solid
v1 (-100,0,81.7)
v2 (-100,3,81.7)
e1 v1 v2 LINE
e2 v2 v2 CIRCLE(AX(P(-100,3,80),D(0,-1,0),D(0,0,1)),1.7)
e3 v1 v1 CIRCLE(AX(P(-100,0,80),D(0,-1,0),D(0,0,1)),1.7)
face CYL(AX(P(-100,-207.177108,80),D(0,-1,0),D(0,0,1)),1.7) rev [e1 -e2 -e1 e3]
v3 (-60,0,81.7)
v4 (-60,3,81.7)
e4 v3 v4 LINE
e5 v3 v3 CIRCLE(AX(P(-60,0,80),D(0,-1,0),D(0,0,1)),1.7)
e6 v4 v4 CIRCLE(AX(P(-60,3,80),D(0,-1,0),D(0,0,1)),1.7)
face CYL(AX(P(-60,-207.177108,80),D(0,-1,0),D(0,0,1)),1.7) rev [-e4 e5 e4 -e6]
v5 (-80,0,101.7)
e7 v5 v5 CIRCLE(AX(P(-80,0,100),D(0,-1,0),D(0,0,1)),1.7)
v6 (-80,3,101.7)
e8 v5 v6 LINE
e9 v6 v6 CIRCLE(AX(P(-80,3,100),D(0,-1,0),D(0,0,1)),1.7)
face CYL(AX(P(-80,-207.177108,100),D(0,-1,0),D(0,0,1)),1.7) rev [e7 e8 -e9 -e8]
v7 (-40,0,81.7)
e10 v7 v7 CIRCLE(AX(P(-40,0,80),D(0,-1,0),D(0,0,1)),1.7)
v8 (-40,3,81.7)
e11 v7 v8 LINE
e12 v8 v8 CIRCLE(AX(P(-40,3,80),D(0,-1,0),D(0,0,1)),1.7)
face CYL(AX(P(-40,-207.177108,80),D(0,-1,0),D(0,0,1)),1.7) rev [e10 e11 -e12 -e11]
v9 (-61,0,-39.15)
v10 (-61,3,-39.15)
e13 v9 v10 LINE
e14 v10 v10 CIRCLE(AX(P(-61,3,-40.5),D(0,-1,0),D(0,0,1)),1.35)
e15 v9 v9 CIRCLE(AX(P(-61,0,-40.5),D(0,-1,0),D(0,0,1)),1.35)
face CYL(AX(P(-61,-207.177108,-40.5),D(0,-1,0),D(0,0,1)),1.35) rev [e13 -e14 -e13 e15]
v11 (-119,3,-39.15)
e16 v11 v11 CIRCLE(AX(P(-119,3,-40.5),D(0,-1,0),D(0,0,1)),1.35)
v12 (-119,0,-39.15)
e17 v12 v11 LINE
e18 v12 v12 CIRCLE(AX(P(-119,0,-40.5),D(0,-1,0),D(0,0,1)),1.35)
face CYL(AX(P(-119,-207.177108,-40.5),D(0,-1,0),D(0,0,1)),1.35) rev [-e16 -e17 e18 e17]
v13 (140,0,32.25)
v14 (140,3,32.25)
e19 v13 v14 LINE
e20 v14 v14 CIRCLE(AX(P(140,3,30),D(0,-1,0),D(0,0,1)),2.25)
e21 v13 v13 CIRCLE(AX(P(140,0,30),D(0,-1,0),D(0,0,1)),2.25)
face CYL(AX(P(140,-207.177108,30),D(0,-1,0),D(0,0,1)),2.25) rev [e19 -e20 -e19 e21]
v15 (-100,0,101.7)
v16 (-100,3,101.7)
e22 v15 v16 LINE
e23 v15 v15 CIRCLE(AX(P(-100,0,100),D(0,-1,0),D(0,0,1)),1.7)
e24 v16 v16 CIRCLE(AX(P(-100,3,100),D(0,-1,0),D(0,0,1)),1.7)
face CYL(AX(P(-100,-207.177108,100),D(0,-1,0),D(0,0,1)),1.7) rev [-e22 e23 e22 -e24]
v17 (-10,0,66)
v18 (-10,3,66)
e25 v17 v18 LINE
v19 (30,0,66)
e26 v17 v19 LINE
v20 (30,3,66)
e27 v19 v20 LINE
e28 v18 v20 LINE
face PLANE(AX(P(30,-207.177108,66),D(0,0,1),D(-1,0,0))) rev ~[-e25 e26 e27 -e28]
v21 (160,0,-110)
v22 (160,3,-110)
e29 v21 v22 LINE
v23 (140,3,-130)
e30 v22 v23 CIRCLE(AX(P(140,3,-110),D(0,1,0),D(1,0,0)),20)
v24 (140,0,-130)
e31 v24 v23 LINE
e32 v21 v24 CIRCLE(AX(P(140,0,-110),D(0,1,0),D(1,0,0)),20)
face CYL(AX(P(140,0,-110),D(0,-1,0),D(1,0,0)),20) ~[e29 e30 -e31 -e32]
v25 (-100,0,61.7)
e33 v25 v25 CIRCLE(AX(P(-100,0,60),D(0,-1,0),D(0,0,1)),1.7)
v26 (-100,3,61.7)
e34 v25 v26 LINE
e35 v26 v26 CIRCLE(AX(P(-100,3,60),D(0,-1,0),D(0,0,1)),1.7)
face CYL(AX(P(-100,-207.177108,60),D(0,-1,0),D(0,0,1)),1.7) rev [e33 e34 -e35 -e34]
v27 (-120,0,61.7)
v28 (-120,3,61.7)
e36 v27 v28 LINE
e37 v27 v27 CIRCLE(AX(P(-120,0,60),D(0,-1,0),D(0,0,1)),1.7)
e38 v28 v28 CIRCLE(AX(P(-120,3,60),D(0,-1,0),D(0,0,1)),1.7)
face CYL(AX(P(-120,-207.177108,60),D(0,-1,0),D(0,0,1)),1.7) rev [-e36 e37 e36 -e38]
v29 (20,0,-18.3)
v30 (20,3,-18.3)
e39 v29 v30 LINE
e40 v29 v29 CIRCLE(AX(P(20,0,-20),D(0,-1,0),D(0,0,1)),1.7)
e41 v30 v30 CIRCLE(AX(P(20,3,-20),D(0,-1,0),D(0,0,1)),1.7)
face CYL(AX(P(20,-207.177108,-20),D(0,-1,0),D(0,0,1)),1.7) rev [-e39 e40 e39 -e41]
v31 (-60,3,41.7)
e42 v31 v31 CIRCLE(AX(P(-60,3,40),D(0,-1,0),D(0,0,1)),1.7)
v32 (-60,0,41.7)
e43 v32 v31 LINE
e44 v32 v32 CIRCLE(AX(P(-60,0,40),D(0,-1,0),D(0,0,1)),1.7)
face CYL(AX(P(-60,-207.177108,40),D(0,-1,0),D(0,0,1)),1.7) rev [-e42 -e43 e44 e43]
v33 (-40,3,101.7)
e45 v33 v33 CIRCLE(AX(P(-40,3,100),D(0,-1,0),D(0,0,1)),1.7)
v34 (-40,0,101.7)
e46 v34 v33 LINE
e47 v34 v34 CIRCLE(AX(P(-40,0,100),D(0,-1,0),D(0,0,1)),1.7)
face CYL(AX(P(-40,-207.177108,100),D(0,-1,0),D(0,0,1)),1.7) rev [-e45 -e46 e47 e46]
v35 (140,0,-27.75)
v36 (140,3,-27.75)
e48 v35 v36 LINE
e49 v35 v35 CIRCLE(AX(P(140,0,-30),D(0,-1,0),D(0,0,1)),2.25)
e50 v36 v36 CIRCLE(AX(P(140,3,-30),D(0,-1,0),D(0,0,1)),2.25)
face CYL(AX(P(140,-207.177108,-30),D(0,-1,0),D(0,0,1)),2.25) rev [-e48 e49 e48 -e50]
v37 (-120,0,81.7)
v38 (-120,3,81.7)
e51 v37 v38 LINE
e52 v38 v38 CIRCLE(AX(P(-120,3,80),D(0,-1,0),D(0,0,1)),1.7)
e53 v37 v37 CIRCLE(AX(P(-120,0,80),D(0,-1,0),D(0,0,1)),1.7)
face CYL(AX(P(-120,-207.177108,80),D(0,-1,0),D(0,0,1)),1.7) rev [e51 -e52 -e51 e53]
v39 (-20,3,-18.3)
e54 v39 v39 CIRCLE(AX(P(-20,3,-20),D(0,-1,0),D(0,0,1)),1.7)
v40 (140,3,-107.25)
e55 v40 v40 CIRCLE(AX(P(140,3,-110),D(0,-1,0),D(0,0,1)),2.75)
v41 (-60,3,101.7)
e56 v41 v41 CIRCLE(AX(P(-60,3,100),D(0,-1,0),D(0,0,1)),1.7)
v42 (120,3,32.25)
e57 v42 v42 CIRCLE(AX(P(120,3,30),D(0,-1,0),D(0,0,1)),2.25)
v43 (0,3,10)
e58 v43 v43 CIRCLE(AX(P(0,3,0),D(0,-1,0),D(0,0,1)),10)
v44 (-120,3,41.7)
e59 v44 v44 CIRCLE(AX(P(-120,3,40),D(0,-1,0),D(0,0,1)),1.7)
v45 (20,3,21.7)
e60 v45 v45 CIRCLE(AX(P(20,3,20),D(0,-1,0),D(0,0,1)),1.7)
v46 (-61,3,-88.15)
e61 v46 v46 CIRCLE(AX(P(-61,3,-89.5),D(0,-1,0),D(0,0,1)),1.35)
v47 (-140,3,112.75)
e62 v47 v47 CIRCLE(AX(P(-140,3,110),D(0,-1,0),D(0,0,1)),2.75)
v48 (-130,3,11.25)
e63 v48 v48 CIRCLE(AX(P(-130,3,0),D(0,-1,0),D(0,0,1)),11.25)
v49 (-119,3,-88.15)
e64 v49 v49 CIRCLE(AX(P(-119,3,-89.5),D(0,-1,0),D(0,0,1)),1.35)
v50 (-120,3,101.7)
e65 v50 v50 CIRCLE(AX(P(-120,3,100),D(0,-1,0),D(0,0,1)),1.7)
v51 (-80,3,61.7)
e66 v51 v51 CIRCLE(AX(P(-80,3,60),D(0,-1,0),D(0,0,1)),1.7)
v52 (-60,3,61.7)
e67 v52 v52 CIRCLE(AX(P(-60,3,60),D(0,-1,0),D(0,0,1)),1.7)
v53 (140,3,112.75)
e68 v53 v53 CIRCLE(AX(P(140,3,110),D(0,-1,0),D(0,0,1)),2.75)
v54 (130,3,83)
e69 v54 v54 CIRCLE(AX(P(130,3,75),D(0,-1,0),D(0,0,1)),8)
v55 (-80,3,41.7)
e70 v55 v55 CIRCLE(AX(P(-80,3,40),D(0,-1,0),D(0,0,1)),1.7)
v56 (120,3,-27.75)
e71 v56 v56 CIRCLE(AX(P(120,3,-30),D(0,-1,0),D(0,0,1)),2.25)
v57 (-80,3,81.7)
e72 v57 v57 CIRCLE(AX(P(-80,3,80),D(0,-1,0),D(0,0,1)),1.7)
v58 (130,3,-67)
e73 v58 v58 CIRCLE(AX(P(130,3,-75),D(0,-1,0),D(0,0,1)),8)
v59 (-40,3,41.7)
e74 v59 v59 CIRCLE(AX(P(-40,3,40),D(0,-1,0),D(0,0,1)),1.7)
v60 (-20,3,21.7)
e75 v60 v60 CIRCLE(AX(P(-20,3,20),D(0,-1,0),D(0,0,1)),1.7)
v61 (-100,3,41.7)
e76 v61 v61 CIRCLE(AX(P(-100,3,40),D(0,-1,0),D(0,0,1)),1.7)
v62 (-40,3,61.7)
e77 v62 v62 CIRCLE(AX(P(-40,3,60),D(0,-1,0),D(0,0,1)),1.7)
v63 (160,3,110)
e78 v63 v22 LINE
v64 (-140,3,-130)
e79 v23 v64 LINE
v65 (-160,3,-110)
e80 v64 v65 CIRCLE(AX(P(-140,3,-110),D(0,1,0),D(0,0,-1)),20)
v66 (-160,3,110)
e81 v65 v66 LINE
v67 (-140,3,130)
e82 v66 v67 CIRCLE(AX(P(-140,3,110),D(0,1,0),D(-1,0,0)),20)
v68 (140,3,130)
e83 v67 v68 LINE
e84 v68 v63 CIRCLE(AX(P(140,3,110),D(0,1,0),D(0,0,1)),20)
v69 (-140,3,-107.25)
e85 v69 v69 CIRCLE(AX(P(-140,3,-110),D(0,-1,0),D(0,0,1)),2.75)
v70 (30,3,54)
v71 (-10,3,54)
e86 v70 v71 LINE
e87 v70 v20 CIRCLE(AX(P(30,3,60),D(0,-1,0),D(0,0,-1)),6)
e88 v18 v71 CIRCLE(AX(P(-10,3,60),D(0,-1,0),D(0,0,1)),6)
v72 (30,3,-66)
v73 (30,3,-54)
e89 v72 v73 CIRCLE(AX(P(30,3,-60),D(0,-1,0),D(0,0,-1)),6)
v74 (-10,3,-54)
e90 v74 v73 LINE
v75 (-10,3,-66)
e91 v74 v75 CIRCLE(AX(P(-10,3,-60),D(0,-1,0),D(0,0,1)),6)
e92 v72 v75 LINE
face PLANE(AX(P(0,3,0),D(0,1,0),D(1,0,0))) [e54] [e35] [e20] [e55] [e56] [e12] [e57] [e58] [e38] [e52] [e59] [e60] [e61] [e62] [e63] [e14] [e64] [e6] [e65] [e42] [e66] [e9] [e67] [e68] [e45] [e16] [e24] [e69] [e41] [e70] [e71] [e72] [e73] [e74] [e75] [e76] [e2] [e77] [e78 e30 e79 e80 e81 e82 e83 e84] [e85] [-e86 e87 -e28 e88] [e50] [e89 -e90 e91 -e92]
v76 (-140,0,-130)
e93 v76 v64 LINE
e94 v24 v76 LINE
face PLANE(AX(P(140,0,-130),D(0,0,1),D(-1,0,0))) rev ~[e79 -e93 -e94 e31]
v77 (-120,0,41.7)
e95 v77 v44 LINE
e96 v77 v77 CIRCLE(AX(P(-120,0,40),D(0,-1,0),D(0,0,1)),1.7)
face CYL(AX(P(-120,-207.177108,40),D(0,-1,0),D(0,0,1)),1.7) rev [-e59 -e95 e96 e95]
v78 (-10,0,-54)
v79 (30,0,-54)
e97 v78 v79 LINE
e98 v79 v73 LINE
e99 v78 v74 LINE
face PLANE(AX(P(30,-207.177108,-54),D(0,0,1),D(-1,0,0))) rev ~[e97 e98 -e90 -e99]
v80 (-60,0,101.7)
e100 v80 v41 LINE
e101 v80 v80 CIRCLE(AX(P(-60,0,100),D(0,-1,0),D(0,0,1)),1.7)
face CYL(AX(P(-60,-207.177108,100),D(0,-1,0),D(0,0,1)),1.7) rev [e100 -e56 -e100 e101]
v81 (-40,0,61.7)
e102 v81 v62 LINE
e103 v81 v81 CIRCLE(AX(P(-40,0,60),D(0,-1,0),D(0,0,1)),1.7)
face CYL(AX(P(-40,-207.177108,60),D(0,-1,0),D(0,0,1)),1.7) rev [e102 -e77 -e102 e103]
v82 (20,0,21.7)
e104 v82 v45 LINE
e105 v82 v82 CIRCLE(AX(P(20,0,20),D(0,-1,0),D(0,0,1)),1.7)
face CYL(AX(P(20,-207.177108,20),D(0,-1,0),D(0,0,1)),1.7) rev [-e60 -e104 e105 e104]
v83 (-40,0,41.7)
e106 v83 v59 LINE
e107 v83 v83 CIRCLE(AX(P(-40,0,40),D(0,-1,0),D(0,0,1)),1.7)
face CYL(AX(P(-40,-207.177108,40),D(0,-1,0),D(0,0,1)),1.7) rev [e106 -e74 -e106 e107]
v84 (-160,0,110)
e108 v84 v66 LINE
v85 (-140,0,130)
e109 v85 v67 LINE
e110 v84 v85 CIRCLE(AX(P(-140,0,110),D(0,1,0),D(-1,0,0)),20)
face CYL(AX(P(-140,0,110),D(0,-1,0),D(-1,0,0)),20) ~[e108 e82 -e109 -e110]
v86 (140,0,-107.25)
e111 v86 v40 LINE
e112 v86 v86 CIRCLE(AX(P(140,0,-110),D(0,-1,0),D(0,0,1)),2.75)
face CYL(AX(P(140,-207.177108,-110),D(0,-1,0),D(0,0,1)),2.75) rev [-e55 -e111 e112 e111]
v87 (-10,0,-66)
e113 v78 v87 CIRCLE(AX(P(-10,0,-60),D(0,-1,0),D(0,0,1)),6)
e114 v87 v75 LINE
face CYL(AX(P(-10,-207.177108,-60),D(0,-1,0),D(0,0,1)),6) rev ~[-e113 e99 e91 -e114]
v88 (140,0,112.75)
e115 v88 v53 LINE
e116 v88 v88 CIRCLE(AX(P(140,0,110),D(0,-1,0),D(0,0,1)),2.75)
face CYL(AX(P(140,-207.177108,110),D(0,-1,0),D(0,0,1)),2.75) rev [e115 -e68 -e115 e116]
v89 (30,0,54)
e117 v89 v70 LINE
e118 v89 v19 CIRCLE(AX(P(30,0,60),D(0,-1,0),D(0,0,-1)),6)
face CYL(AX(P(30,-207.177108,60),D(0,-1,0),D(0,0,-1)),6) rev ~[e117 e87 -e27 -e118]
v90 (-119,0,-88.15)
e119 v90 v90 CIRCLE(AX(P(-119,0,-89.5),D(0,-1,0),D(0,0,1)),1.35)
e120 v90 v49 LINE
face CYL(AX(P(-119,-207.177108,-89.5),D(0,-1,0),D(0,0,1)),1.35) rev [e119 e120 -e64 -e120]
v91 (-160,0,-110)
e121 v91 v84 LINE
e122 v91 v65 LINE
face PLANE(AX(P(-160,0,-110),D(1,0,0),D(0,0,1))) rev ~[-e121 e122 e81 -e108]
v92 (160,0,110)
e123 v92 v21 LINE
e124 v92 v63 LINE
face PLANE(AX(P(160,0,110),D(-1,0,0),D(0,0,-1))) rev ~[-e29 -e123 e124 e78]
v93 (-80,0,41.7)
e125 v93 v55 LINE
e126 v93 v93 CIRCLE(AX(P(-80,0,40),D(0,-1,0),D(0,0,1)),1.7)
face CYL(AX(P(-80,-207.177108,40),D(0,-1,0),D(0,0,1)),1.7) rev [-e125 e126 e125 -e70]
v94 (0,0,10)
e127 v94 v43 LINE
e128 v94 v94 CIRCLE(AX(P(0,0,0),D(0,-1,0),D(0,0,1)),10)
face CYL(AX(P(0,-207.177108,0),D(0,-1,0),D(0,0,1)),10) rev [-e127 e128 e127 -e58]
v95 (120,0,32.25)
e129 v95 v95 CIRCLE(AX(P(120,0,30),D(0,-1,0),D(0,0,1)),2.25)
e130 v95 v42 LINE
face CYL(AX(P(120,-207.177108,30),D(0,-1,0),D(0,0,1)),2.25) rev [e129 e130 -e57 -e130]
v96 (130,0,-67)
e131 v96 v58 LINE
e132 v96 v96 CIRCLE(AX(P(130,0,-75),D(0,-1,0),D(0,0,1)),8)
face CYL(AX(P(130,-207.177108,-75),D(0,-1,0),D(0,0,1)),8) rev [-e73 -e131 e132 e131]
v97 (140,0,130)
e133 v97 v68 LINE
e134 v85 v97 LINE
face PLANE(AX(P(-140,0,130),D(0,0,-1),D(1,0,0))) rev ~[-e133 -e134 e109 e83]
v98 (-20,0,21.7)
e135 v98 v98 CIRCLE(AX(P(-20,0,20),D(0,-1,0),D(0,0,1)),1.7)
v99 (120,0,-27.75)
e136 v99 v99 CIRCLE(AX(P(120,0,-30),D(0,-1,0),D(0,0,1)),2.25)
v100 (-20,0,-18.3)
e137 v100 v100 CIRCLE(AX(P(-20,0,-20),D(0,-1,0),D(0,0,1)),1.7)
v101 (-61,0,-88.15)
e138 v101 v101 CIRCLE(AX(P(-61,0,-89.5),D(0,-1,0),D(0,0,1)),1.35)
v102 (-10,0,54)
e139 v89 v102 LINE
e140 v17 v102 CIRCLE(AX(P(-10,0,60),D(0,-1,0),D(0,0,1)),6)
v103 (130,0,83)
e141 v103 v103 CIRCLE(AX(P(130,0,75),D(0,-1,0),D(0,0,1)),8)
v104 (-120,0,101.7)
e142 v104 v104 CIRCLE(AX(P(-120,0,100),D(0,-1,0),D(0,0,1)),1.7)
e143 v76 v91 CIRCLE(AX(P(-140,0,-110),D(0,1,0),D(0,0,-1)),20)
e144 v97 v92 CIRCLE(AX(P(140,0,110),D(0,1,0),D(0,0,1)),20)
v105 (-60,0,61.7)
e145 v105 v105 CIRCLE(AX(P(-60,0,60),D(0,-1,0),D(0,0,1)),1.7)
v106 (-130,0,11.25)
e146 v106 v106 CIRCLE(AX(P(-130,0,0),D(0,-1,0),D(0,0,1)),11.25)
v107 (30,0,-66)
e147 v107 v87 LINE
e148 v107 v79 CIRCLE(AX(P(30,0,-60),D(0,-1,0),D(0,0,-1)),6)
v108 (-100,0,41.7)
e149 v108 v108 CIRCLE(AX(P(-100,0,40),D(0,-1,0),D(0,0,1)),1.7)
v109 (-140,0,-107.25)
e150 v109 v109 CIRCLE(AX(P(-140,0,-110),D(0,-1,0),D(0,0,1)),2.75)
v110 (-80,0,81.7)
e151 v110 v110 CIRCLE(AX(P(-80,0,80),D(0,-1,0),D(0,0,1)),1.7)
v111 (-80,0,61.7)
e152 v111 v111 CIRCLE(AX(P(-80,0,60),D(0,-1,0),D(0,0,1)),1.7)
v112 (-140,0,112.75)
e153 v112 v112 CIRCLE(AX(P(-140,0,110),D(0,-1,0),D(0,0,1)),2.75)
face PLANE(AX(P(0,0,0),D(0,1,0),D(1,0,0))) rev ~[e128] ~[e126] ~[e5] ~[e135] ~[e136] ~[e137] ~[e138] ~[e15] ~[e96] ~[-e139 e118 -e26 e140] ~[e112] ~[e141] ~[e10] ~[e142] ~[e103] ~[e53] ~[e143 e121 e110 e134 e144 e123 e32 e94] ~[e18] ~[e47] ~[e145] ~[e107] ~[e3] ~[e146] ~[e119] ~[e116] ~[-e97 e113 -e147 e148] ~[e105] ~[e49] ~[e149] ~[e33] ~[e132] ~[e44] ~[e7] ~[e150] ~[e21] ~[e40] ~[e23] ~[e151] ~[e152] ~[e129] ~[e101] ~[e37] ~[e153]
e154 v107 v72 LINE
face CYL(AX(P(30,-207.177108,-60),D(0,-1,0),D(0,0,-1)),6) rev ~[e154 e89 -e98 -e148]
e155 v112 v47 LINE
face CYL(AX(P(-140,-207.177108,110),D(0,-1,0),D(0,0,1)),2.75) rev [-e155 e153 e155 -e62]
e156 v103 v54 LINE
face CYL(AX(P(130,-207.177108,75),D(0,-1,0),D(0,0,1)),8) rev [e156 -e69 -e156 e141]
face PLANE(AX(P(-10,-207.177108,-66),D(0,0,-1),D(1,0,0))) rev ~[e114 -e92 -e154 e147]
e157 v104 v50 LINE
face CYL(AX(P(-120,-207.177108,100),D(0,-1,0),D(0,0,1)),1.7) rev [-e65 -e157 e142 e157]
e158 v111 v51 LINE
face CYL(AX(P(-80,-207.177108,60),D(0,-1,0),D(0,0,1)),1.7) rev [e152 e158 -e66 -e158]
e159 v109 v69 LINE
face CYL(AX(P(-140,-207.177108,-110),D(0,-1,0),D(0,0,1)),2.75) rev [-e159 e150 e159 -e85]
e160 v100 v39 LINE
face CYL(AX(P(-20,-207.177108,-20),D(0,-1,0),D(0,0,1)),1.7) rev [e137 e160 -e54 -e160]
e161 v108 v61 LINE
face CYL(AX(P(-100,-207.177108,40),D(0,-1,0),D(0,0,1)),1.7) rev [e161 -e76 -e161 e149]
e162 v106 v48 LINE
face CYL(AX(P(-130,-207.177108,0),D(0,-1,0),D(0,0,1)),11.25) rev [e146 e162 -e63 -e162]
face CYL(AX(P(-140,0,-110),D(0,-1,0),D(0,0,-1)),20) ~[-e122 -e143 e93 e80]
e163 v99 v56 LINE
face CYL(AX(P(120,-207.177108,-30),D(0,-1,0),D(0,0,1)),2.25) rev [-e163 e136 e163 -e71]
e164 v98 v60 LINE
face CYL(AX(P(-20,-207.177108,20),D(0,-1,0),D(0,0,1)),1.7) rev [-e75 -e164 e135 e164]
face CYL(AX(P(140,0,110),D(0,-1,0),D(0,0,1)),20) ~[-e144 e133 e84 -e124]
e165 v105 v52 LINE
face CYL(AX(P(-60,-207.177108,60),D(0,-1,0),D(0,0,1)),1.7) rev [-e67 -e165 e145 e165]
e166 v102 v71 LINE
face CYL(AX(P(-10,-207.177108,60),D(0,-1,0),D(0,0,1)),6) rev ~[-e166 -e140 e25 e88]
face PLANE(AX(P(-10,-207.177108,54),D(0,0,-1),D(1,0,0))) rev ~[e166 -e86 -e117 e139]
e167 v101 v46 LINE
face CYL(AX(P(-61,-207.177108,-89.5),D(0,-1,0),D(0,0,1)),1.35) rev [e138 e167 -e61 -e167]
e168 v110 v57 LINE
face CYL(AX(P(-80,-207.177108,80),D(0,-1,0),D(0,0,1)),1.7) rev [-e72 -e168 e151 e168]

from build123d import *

# Parameters (mm, degrees)
DECK_DEPTH                          = 3
CUT_DECKPOSTS_M5_DEPTH              = 207.177108332
CUT_DECKPOSTS_M5_DEPTH_BACK         = 207.177108332
SK_DECKPOSTS_M5_R                   = 2.75
CUT_LIDARMOUNT_DEPTH                = 207.177108332
CUT_LIDARMOUNT_DEPTH_BACK           = 207.177108332
SK_LIDARMOUNT_R                     = 1.7
SK_LIDARMOUNT_R_2                   = 10
CUT_PI5_M2P5_DEPTH                  = 207.177108332
CUT_PI5_M2P5_DEPTH_BACK             = 207.177108332
SK_PI5_M2P5_R                       = 1.35
CUT_DECKGRID_M3_DEPTH               = 207.177108332
CUT_DECKGRID_M3_DEPTH_BACK          = 207.177108332
SK_DECKGRID_M3_R                    = 1.7
CUT_ESTOP_22MM_DEPTH                = 207.177108332
CUT_ESTOP_22MM_DEPTH_BACK           = 207.177108332
SK_ESTOP_22MM_R                     = 11.25
CUT_CAMERAMOUNT_M4_DEPTH            = 207.177108332
CUT_CAMERAMOUNT_M4_DEPTH_BACK       = 207.177108332
SK_CAMERAMOUNT_M4_R                 = 2.25
CUT_INDICATORLIGHTS_16MM_DEPTH      = 207.177108332
CUT_INDICATORLIGHTS_16MM_DEPTH_BACK = 207.177108332
SK_INDICATORLIGHTS_R                = 8
CUT_DECKPASSTHRU_DEPTH              = 207.177108332
CUT_DECKPASSTHRU_DEPTH_BACK         = 207.177108332


with BuildPart() as part:
    # SK_Deck → Deck (new body)
    with BuildSketch(Plane(origin=(0, 0, 0), x_dir=(1, 0, 0), z_dir=(0, 1, 0))):
        with BuildLine():
            Line((160, -110), (160, 110))
            ThreePointArc((160, 110), (154.142135624, 124.142135624), (140, 130))
            Line((140, 130), (-140, 130))
            ThreePointArc((-140, 130), (-154.142135624, 124.142135624), (-160, 110))
            Line((-160, 110), (-160, -110))
            ThreePointArc((-160, -110), (-154.142135624, -124.142135624), (-140, -130))
            Line((-140, -130), (140, -130))
            ThreePointArc((140, -130), (154.142135624, -124.142135624), (160, -110))
        make_face()
    extrude(amount=DECK_DEPTH)

    # SK_DeckPosts_M5 → Cut_DeckPosts_M5 (cut, two sides: drawn at the far end of the back side and taken through both)
    with BuildSketch(Plane(origin=(0, 0, 0), x_dir=(1, 0, 0), z_dir=(0, 1, 0)).offset(-CUT_DECKPOSTS_M5_DEPTH_BACK)):
        with Locations(Location((140, 110, 0), (0, 0, 270))):
            Circle(SK_DECKPOSTS_M5_R)
        with Locations(Location((140, -110, 0), (0, 0, 270))):
            Circle(SK_DECKPOSTS_M5_R)
        with Locations(Location((-140, 110, 0), (0, 0, 270))):
            Circle(SK_DECKPOSTS_M5_R)
        with Locations(Location((-140, -110, 0), (0, 0, 270))):
            Circle(SK_DECKPOSTS_M5_R)
    extrude(amount=CUT_DECKPOSTS_M5_DEPTH + CUT_DECKPOSTS_M5_DEPTH_BACK, mode=Mode.SUBTRACT)

    # SK_LidarMount → Cut_LidarMount (cut, two sides: drawn at the far end of the back side and taken through both)
    with BuildSketch(Plane(origin=(0, 0, 0), x_dir=(1, 0, 0), z_dir=(0, 1, 0)).offset(-CUT_LIDARMOUNT_DEPTH_BACK)):
        with Locations(Location((20, 20, 0), (0, 0, 270))):
            Circle(SK_LIDARMOUNT_R)
        with Locations(Location((20, -20, 0), (0, 0, 270))):
            Circle(SK_LIDARMOUNT_R)
        with Locations(Location((-20, 20, 0), (0, 0, 270))):
            Circle(SK_LIDARMOUNT_R)
        with Locations(Location((-20, -20, 0), (0, 0, 270))):
            Circle(SK_LIDARMOUNT_R)
        with Locations(Location((0, 0, 0), (0, 0, 270))):
            Circle(SK_LIDARMOUNT_R_2)
    extrude(amount=CUT_LIDARMOUNT_DEPTH + CUT_LIDARMOUNT_DEPTH_BACK, mode=Mode.SUBTRACT)

    # SK_Pi5_M2p5 → Cut_Pi5_M2p5 (cut, two sides: drawn at the far end of the back side and taken through both)
    with BuildSketch(Plane(origin=(0, 0, 0), x_dir=(1, 0, 0), z_dir=(0, 1, 0)).offset(-CUT_PI5_M2P5_DEPTH_BACK)):
        with Locations(Location((-119, 40.5, 0), (0, 0, 270))):
            Circle(SK_PI5_M2P5_R)
        with Locations(Location((-119, 89.5, 0), (0, 0, 270))):
            Circle(SK_PI5_M2P5_R)
        with Locations(Location((-61, 40.5, 0), (0, 0, 270))):
            Circle(SK_PI5_M2P5_R)
        with Locations(Location((-61, 89.5, 0), (0, 0, 270))):
            Circle(SK_PI5_M2P5_R)
    extrude(amount=CUT_PI5_M2P5_DEPTH + CUT_PI5_M2P5_DEPTH_BACK, mode=Mode.SUBTRACT)

    # SK_DeckGrid_M3 → Cut_DeckGrid_M3 (cut, two sides: drawn at the far end of the back side and taken through both)
    with BuildSketch(Plane(origin=(0, 0, 0), x_dir=(1, 0, 0), z_dir=(0, 1, 0)).offset(-CUT_DECKGRID_M3_DEPTH_BACK)):
        with Locations(Location((-120, -40, 0), (0, 0, 270))):
            Circle(SK_DECKGRID_M3_R)
        with Locations(Location((-120, -60, 0), (0, 0, 270))):
            Circle(SK_DECKGRID_M3_R)
        with Locations(Location((-120, -80, 0), (0, 0, 270))):
            Circle(SK_DECKGRID_M3_R)
        with Locations(Location((-120, -100, 0), (0, 0, 270))):
            Circle(SK_DECKGRID_M3_R)
        with Locations(Location((-100, -40, 0), (0, 0, 270))):
            Circle(SK_DECKGRID_M3_R)
        with Locations(Location((-100, -60, 0), (0, 0, 270))):
            Circle(SK_DECKGRID_M3_R)
        with Locations(Location((-100, -80, 0), (0, 0, 270))):
            Circle(SK_DECKGRID_M3_R)
        with Locations(Location((-100, -100, 0), (0, 0, 270))):
            Circle(SK_DECKGRID_M3_R)
        with Locations(Location((-80, -40, 0), (0, 0, 270))):
            Circle(SK_DECKGRID_M3_R)
        with Locations(Location((-80, -60, 0), (0, 0, 270))):
            Circle(SK_DECKGRID_M3_R)
        with Locations(Location((-80, -80, 0), (0, 0, 270))):
            Circle(SK_DECKGRID_M3_R)
        with Locations(Location((-80, -100, 0), (0, 0, 270))):
            Circle(SK_DECKGRID_M3_R)
        with Locations(Location((-60, -40, 0), (0, 0, 270))):
            Circle(SK_DECKGRID_M3_R)
        with Locations(Location((-60, -60, 0), (0, 0, 270))):
            Circle(SK_DECKGRID_M3_R)
        with Locations(Location((-60, -80, 0), (0, 0, 270))):
            Circle(SK_DECKGRID_M3_R)
        with Locations(Location((-60, -100, 0), (0, 0, 270))):
            Circle(SK_DECKGRID_M3_R)
        with Locations(Location((-40, -40, 0), (0, 0, 270))):
            Circle(SK_DECKGRID_M3_R)
        with Locations(Location((-40, -60, 0), (0, 0, 270))):
            Circle(SK_DECKGRID_M3_R)
        with Locations(Location((-40, -80, 0), (0, 0, 270))):
            Circle(SK_DECKGRID_M3_R)
        with Locations(Location((-40, -100, 0), (0, 0, 270))):
            Circle(SK_DECKGRID_M3_R)
    extrude(amount=CUT_DECKGRID_M3_DEPTH + CUT_DECKGRID_M3_DEPTH_BACK, mode=Mode.SUBTRACT)

    # SK_EStop_22mm → Cut_EStop_22mm (cut, two sides: drawn at the far end of the back side and taken through both)
    with BuildSketch(Plane(origin=(0, 0, 0), x_dir=(1, 0, 0), z_dir=(0, 1, 0)).offset(-CUT_ESTOP_22MM_DEPTH_BACK)):
        with Locations(Location((-130, 0, 0), (0, 0, 270))):
            Circle(SK_ESTOP_22MM_R)
    extrude(amount=CUT_ESTOP_22MM_DEPTH + CUT_ESTOP_22MM_DEPTH_BACK, mode=Mode.SUBTRACT)

    # SK_CameraMount_M4 → Cut_CameraMount_M4 (cut, two sides: drawn at the far end of the back side and taken through both)
    with BuildSketch(Plane(origin=(0, 0, 0), x_dir=(1, 0, 0), z_dir=(0, 1, 0)).offset(-CUT_CAMERAMOUNT_M4_DEPTH_BACK)):
        with Locations(Location((120, 30, 0), (0, 0, 270))):
            Circle(SK_CAMERAMOUNT_M4_R)
        with Locations(Location((120, -30, 0), (0, 0, 270))):
            Circle(SK_CAMERAMOUNT_M4_R)
        with Locations(Location((140, 30, 0), (0, 0, 270))):
            Circle(SK_CAMERAMOUNT_M4_R)
        with Locations(Location((140, -30, 0), (0, 0, 270))):
            Circle(SK_CAMERAMOUNT_M4_R)
    extrude(amount=CUT_CAMERAMOUNT_M4_DEPTH + CUT_CAMERAMOUNT_M4_DEPTH_BACK, mode=Mode.SUBTRACT)

    # SK_IndicatorLights → Cut_IndicatorLights_16mm (cut, two sides: drawn at the far end of the back side and taken through both)
    with BuildSketch(Plane(origin=(0, 0, 0), x_dir=(1, 0, 0), z_dir=(0, 1, 0)).offset(-CUT_INDICATORLIGHTS_16MM_DEPTH_BACK)):
        with Locations(Location((130, 75, 0), (0, 0, 270))):
            Circle(SK_INDICATORLIGHTS_R)
        with Locations(Location((130, -75, 0), (0, 0, 270))):
            Circle(SK_INDICATORLIGHTS_R)
    extrude(amount=CUT_INDICATORLIGHTS_16MM_DEPTH + CUT_INDICATORLIGHTS_16MM_DEPTH_BACK, mode=Mode.SUBTRACT)

    # SK_DeckPassThru → Cut_DeckPassThru (cut, two sides: drawn at the far end of the back side and taken through both)
    with BuildSketch(Plane(origin=(0, 0, 0), x_dir=(1, 0, 0), z_dir=(0, 1, 0)).offset(-CUT_DECKPASSTHRU_DEPTH_BACK)):
        with BuildLine():
            Line((-10, 66), (30, 66))
            ThreePointArc((30, 66), (36, 60), (30, 54))
            Line((30, 54), (-10, 54))
            ThreePointArc((-10, 54), (-16, 60), (-10, 66))
        make_face()
        with BuildLine():
            Line((-10, -54), (30, -54))
            ThreePointArc((30, -54), (36, -60), (30, -66))
            Line((30, -66), (-10, -66))
            ThreePointArc((-10, -66), (-16, -60), (-10, -54))
        make_face()
    extrude(amount=CUT_DECKPASSTHRU_DEPTH + CUT_DECKPASSTHRU_DEPTH_BACK, mode=Mode.SUBTRACT)


solid = part.part
